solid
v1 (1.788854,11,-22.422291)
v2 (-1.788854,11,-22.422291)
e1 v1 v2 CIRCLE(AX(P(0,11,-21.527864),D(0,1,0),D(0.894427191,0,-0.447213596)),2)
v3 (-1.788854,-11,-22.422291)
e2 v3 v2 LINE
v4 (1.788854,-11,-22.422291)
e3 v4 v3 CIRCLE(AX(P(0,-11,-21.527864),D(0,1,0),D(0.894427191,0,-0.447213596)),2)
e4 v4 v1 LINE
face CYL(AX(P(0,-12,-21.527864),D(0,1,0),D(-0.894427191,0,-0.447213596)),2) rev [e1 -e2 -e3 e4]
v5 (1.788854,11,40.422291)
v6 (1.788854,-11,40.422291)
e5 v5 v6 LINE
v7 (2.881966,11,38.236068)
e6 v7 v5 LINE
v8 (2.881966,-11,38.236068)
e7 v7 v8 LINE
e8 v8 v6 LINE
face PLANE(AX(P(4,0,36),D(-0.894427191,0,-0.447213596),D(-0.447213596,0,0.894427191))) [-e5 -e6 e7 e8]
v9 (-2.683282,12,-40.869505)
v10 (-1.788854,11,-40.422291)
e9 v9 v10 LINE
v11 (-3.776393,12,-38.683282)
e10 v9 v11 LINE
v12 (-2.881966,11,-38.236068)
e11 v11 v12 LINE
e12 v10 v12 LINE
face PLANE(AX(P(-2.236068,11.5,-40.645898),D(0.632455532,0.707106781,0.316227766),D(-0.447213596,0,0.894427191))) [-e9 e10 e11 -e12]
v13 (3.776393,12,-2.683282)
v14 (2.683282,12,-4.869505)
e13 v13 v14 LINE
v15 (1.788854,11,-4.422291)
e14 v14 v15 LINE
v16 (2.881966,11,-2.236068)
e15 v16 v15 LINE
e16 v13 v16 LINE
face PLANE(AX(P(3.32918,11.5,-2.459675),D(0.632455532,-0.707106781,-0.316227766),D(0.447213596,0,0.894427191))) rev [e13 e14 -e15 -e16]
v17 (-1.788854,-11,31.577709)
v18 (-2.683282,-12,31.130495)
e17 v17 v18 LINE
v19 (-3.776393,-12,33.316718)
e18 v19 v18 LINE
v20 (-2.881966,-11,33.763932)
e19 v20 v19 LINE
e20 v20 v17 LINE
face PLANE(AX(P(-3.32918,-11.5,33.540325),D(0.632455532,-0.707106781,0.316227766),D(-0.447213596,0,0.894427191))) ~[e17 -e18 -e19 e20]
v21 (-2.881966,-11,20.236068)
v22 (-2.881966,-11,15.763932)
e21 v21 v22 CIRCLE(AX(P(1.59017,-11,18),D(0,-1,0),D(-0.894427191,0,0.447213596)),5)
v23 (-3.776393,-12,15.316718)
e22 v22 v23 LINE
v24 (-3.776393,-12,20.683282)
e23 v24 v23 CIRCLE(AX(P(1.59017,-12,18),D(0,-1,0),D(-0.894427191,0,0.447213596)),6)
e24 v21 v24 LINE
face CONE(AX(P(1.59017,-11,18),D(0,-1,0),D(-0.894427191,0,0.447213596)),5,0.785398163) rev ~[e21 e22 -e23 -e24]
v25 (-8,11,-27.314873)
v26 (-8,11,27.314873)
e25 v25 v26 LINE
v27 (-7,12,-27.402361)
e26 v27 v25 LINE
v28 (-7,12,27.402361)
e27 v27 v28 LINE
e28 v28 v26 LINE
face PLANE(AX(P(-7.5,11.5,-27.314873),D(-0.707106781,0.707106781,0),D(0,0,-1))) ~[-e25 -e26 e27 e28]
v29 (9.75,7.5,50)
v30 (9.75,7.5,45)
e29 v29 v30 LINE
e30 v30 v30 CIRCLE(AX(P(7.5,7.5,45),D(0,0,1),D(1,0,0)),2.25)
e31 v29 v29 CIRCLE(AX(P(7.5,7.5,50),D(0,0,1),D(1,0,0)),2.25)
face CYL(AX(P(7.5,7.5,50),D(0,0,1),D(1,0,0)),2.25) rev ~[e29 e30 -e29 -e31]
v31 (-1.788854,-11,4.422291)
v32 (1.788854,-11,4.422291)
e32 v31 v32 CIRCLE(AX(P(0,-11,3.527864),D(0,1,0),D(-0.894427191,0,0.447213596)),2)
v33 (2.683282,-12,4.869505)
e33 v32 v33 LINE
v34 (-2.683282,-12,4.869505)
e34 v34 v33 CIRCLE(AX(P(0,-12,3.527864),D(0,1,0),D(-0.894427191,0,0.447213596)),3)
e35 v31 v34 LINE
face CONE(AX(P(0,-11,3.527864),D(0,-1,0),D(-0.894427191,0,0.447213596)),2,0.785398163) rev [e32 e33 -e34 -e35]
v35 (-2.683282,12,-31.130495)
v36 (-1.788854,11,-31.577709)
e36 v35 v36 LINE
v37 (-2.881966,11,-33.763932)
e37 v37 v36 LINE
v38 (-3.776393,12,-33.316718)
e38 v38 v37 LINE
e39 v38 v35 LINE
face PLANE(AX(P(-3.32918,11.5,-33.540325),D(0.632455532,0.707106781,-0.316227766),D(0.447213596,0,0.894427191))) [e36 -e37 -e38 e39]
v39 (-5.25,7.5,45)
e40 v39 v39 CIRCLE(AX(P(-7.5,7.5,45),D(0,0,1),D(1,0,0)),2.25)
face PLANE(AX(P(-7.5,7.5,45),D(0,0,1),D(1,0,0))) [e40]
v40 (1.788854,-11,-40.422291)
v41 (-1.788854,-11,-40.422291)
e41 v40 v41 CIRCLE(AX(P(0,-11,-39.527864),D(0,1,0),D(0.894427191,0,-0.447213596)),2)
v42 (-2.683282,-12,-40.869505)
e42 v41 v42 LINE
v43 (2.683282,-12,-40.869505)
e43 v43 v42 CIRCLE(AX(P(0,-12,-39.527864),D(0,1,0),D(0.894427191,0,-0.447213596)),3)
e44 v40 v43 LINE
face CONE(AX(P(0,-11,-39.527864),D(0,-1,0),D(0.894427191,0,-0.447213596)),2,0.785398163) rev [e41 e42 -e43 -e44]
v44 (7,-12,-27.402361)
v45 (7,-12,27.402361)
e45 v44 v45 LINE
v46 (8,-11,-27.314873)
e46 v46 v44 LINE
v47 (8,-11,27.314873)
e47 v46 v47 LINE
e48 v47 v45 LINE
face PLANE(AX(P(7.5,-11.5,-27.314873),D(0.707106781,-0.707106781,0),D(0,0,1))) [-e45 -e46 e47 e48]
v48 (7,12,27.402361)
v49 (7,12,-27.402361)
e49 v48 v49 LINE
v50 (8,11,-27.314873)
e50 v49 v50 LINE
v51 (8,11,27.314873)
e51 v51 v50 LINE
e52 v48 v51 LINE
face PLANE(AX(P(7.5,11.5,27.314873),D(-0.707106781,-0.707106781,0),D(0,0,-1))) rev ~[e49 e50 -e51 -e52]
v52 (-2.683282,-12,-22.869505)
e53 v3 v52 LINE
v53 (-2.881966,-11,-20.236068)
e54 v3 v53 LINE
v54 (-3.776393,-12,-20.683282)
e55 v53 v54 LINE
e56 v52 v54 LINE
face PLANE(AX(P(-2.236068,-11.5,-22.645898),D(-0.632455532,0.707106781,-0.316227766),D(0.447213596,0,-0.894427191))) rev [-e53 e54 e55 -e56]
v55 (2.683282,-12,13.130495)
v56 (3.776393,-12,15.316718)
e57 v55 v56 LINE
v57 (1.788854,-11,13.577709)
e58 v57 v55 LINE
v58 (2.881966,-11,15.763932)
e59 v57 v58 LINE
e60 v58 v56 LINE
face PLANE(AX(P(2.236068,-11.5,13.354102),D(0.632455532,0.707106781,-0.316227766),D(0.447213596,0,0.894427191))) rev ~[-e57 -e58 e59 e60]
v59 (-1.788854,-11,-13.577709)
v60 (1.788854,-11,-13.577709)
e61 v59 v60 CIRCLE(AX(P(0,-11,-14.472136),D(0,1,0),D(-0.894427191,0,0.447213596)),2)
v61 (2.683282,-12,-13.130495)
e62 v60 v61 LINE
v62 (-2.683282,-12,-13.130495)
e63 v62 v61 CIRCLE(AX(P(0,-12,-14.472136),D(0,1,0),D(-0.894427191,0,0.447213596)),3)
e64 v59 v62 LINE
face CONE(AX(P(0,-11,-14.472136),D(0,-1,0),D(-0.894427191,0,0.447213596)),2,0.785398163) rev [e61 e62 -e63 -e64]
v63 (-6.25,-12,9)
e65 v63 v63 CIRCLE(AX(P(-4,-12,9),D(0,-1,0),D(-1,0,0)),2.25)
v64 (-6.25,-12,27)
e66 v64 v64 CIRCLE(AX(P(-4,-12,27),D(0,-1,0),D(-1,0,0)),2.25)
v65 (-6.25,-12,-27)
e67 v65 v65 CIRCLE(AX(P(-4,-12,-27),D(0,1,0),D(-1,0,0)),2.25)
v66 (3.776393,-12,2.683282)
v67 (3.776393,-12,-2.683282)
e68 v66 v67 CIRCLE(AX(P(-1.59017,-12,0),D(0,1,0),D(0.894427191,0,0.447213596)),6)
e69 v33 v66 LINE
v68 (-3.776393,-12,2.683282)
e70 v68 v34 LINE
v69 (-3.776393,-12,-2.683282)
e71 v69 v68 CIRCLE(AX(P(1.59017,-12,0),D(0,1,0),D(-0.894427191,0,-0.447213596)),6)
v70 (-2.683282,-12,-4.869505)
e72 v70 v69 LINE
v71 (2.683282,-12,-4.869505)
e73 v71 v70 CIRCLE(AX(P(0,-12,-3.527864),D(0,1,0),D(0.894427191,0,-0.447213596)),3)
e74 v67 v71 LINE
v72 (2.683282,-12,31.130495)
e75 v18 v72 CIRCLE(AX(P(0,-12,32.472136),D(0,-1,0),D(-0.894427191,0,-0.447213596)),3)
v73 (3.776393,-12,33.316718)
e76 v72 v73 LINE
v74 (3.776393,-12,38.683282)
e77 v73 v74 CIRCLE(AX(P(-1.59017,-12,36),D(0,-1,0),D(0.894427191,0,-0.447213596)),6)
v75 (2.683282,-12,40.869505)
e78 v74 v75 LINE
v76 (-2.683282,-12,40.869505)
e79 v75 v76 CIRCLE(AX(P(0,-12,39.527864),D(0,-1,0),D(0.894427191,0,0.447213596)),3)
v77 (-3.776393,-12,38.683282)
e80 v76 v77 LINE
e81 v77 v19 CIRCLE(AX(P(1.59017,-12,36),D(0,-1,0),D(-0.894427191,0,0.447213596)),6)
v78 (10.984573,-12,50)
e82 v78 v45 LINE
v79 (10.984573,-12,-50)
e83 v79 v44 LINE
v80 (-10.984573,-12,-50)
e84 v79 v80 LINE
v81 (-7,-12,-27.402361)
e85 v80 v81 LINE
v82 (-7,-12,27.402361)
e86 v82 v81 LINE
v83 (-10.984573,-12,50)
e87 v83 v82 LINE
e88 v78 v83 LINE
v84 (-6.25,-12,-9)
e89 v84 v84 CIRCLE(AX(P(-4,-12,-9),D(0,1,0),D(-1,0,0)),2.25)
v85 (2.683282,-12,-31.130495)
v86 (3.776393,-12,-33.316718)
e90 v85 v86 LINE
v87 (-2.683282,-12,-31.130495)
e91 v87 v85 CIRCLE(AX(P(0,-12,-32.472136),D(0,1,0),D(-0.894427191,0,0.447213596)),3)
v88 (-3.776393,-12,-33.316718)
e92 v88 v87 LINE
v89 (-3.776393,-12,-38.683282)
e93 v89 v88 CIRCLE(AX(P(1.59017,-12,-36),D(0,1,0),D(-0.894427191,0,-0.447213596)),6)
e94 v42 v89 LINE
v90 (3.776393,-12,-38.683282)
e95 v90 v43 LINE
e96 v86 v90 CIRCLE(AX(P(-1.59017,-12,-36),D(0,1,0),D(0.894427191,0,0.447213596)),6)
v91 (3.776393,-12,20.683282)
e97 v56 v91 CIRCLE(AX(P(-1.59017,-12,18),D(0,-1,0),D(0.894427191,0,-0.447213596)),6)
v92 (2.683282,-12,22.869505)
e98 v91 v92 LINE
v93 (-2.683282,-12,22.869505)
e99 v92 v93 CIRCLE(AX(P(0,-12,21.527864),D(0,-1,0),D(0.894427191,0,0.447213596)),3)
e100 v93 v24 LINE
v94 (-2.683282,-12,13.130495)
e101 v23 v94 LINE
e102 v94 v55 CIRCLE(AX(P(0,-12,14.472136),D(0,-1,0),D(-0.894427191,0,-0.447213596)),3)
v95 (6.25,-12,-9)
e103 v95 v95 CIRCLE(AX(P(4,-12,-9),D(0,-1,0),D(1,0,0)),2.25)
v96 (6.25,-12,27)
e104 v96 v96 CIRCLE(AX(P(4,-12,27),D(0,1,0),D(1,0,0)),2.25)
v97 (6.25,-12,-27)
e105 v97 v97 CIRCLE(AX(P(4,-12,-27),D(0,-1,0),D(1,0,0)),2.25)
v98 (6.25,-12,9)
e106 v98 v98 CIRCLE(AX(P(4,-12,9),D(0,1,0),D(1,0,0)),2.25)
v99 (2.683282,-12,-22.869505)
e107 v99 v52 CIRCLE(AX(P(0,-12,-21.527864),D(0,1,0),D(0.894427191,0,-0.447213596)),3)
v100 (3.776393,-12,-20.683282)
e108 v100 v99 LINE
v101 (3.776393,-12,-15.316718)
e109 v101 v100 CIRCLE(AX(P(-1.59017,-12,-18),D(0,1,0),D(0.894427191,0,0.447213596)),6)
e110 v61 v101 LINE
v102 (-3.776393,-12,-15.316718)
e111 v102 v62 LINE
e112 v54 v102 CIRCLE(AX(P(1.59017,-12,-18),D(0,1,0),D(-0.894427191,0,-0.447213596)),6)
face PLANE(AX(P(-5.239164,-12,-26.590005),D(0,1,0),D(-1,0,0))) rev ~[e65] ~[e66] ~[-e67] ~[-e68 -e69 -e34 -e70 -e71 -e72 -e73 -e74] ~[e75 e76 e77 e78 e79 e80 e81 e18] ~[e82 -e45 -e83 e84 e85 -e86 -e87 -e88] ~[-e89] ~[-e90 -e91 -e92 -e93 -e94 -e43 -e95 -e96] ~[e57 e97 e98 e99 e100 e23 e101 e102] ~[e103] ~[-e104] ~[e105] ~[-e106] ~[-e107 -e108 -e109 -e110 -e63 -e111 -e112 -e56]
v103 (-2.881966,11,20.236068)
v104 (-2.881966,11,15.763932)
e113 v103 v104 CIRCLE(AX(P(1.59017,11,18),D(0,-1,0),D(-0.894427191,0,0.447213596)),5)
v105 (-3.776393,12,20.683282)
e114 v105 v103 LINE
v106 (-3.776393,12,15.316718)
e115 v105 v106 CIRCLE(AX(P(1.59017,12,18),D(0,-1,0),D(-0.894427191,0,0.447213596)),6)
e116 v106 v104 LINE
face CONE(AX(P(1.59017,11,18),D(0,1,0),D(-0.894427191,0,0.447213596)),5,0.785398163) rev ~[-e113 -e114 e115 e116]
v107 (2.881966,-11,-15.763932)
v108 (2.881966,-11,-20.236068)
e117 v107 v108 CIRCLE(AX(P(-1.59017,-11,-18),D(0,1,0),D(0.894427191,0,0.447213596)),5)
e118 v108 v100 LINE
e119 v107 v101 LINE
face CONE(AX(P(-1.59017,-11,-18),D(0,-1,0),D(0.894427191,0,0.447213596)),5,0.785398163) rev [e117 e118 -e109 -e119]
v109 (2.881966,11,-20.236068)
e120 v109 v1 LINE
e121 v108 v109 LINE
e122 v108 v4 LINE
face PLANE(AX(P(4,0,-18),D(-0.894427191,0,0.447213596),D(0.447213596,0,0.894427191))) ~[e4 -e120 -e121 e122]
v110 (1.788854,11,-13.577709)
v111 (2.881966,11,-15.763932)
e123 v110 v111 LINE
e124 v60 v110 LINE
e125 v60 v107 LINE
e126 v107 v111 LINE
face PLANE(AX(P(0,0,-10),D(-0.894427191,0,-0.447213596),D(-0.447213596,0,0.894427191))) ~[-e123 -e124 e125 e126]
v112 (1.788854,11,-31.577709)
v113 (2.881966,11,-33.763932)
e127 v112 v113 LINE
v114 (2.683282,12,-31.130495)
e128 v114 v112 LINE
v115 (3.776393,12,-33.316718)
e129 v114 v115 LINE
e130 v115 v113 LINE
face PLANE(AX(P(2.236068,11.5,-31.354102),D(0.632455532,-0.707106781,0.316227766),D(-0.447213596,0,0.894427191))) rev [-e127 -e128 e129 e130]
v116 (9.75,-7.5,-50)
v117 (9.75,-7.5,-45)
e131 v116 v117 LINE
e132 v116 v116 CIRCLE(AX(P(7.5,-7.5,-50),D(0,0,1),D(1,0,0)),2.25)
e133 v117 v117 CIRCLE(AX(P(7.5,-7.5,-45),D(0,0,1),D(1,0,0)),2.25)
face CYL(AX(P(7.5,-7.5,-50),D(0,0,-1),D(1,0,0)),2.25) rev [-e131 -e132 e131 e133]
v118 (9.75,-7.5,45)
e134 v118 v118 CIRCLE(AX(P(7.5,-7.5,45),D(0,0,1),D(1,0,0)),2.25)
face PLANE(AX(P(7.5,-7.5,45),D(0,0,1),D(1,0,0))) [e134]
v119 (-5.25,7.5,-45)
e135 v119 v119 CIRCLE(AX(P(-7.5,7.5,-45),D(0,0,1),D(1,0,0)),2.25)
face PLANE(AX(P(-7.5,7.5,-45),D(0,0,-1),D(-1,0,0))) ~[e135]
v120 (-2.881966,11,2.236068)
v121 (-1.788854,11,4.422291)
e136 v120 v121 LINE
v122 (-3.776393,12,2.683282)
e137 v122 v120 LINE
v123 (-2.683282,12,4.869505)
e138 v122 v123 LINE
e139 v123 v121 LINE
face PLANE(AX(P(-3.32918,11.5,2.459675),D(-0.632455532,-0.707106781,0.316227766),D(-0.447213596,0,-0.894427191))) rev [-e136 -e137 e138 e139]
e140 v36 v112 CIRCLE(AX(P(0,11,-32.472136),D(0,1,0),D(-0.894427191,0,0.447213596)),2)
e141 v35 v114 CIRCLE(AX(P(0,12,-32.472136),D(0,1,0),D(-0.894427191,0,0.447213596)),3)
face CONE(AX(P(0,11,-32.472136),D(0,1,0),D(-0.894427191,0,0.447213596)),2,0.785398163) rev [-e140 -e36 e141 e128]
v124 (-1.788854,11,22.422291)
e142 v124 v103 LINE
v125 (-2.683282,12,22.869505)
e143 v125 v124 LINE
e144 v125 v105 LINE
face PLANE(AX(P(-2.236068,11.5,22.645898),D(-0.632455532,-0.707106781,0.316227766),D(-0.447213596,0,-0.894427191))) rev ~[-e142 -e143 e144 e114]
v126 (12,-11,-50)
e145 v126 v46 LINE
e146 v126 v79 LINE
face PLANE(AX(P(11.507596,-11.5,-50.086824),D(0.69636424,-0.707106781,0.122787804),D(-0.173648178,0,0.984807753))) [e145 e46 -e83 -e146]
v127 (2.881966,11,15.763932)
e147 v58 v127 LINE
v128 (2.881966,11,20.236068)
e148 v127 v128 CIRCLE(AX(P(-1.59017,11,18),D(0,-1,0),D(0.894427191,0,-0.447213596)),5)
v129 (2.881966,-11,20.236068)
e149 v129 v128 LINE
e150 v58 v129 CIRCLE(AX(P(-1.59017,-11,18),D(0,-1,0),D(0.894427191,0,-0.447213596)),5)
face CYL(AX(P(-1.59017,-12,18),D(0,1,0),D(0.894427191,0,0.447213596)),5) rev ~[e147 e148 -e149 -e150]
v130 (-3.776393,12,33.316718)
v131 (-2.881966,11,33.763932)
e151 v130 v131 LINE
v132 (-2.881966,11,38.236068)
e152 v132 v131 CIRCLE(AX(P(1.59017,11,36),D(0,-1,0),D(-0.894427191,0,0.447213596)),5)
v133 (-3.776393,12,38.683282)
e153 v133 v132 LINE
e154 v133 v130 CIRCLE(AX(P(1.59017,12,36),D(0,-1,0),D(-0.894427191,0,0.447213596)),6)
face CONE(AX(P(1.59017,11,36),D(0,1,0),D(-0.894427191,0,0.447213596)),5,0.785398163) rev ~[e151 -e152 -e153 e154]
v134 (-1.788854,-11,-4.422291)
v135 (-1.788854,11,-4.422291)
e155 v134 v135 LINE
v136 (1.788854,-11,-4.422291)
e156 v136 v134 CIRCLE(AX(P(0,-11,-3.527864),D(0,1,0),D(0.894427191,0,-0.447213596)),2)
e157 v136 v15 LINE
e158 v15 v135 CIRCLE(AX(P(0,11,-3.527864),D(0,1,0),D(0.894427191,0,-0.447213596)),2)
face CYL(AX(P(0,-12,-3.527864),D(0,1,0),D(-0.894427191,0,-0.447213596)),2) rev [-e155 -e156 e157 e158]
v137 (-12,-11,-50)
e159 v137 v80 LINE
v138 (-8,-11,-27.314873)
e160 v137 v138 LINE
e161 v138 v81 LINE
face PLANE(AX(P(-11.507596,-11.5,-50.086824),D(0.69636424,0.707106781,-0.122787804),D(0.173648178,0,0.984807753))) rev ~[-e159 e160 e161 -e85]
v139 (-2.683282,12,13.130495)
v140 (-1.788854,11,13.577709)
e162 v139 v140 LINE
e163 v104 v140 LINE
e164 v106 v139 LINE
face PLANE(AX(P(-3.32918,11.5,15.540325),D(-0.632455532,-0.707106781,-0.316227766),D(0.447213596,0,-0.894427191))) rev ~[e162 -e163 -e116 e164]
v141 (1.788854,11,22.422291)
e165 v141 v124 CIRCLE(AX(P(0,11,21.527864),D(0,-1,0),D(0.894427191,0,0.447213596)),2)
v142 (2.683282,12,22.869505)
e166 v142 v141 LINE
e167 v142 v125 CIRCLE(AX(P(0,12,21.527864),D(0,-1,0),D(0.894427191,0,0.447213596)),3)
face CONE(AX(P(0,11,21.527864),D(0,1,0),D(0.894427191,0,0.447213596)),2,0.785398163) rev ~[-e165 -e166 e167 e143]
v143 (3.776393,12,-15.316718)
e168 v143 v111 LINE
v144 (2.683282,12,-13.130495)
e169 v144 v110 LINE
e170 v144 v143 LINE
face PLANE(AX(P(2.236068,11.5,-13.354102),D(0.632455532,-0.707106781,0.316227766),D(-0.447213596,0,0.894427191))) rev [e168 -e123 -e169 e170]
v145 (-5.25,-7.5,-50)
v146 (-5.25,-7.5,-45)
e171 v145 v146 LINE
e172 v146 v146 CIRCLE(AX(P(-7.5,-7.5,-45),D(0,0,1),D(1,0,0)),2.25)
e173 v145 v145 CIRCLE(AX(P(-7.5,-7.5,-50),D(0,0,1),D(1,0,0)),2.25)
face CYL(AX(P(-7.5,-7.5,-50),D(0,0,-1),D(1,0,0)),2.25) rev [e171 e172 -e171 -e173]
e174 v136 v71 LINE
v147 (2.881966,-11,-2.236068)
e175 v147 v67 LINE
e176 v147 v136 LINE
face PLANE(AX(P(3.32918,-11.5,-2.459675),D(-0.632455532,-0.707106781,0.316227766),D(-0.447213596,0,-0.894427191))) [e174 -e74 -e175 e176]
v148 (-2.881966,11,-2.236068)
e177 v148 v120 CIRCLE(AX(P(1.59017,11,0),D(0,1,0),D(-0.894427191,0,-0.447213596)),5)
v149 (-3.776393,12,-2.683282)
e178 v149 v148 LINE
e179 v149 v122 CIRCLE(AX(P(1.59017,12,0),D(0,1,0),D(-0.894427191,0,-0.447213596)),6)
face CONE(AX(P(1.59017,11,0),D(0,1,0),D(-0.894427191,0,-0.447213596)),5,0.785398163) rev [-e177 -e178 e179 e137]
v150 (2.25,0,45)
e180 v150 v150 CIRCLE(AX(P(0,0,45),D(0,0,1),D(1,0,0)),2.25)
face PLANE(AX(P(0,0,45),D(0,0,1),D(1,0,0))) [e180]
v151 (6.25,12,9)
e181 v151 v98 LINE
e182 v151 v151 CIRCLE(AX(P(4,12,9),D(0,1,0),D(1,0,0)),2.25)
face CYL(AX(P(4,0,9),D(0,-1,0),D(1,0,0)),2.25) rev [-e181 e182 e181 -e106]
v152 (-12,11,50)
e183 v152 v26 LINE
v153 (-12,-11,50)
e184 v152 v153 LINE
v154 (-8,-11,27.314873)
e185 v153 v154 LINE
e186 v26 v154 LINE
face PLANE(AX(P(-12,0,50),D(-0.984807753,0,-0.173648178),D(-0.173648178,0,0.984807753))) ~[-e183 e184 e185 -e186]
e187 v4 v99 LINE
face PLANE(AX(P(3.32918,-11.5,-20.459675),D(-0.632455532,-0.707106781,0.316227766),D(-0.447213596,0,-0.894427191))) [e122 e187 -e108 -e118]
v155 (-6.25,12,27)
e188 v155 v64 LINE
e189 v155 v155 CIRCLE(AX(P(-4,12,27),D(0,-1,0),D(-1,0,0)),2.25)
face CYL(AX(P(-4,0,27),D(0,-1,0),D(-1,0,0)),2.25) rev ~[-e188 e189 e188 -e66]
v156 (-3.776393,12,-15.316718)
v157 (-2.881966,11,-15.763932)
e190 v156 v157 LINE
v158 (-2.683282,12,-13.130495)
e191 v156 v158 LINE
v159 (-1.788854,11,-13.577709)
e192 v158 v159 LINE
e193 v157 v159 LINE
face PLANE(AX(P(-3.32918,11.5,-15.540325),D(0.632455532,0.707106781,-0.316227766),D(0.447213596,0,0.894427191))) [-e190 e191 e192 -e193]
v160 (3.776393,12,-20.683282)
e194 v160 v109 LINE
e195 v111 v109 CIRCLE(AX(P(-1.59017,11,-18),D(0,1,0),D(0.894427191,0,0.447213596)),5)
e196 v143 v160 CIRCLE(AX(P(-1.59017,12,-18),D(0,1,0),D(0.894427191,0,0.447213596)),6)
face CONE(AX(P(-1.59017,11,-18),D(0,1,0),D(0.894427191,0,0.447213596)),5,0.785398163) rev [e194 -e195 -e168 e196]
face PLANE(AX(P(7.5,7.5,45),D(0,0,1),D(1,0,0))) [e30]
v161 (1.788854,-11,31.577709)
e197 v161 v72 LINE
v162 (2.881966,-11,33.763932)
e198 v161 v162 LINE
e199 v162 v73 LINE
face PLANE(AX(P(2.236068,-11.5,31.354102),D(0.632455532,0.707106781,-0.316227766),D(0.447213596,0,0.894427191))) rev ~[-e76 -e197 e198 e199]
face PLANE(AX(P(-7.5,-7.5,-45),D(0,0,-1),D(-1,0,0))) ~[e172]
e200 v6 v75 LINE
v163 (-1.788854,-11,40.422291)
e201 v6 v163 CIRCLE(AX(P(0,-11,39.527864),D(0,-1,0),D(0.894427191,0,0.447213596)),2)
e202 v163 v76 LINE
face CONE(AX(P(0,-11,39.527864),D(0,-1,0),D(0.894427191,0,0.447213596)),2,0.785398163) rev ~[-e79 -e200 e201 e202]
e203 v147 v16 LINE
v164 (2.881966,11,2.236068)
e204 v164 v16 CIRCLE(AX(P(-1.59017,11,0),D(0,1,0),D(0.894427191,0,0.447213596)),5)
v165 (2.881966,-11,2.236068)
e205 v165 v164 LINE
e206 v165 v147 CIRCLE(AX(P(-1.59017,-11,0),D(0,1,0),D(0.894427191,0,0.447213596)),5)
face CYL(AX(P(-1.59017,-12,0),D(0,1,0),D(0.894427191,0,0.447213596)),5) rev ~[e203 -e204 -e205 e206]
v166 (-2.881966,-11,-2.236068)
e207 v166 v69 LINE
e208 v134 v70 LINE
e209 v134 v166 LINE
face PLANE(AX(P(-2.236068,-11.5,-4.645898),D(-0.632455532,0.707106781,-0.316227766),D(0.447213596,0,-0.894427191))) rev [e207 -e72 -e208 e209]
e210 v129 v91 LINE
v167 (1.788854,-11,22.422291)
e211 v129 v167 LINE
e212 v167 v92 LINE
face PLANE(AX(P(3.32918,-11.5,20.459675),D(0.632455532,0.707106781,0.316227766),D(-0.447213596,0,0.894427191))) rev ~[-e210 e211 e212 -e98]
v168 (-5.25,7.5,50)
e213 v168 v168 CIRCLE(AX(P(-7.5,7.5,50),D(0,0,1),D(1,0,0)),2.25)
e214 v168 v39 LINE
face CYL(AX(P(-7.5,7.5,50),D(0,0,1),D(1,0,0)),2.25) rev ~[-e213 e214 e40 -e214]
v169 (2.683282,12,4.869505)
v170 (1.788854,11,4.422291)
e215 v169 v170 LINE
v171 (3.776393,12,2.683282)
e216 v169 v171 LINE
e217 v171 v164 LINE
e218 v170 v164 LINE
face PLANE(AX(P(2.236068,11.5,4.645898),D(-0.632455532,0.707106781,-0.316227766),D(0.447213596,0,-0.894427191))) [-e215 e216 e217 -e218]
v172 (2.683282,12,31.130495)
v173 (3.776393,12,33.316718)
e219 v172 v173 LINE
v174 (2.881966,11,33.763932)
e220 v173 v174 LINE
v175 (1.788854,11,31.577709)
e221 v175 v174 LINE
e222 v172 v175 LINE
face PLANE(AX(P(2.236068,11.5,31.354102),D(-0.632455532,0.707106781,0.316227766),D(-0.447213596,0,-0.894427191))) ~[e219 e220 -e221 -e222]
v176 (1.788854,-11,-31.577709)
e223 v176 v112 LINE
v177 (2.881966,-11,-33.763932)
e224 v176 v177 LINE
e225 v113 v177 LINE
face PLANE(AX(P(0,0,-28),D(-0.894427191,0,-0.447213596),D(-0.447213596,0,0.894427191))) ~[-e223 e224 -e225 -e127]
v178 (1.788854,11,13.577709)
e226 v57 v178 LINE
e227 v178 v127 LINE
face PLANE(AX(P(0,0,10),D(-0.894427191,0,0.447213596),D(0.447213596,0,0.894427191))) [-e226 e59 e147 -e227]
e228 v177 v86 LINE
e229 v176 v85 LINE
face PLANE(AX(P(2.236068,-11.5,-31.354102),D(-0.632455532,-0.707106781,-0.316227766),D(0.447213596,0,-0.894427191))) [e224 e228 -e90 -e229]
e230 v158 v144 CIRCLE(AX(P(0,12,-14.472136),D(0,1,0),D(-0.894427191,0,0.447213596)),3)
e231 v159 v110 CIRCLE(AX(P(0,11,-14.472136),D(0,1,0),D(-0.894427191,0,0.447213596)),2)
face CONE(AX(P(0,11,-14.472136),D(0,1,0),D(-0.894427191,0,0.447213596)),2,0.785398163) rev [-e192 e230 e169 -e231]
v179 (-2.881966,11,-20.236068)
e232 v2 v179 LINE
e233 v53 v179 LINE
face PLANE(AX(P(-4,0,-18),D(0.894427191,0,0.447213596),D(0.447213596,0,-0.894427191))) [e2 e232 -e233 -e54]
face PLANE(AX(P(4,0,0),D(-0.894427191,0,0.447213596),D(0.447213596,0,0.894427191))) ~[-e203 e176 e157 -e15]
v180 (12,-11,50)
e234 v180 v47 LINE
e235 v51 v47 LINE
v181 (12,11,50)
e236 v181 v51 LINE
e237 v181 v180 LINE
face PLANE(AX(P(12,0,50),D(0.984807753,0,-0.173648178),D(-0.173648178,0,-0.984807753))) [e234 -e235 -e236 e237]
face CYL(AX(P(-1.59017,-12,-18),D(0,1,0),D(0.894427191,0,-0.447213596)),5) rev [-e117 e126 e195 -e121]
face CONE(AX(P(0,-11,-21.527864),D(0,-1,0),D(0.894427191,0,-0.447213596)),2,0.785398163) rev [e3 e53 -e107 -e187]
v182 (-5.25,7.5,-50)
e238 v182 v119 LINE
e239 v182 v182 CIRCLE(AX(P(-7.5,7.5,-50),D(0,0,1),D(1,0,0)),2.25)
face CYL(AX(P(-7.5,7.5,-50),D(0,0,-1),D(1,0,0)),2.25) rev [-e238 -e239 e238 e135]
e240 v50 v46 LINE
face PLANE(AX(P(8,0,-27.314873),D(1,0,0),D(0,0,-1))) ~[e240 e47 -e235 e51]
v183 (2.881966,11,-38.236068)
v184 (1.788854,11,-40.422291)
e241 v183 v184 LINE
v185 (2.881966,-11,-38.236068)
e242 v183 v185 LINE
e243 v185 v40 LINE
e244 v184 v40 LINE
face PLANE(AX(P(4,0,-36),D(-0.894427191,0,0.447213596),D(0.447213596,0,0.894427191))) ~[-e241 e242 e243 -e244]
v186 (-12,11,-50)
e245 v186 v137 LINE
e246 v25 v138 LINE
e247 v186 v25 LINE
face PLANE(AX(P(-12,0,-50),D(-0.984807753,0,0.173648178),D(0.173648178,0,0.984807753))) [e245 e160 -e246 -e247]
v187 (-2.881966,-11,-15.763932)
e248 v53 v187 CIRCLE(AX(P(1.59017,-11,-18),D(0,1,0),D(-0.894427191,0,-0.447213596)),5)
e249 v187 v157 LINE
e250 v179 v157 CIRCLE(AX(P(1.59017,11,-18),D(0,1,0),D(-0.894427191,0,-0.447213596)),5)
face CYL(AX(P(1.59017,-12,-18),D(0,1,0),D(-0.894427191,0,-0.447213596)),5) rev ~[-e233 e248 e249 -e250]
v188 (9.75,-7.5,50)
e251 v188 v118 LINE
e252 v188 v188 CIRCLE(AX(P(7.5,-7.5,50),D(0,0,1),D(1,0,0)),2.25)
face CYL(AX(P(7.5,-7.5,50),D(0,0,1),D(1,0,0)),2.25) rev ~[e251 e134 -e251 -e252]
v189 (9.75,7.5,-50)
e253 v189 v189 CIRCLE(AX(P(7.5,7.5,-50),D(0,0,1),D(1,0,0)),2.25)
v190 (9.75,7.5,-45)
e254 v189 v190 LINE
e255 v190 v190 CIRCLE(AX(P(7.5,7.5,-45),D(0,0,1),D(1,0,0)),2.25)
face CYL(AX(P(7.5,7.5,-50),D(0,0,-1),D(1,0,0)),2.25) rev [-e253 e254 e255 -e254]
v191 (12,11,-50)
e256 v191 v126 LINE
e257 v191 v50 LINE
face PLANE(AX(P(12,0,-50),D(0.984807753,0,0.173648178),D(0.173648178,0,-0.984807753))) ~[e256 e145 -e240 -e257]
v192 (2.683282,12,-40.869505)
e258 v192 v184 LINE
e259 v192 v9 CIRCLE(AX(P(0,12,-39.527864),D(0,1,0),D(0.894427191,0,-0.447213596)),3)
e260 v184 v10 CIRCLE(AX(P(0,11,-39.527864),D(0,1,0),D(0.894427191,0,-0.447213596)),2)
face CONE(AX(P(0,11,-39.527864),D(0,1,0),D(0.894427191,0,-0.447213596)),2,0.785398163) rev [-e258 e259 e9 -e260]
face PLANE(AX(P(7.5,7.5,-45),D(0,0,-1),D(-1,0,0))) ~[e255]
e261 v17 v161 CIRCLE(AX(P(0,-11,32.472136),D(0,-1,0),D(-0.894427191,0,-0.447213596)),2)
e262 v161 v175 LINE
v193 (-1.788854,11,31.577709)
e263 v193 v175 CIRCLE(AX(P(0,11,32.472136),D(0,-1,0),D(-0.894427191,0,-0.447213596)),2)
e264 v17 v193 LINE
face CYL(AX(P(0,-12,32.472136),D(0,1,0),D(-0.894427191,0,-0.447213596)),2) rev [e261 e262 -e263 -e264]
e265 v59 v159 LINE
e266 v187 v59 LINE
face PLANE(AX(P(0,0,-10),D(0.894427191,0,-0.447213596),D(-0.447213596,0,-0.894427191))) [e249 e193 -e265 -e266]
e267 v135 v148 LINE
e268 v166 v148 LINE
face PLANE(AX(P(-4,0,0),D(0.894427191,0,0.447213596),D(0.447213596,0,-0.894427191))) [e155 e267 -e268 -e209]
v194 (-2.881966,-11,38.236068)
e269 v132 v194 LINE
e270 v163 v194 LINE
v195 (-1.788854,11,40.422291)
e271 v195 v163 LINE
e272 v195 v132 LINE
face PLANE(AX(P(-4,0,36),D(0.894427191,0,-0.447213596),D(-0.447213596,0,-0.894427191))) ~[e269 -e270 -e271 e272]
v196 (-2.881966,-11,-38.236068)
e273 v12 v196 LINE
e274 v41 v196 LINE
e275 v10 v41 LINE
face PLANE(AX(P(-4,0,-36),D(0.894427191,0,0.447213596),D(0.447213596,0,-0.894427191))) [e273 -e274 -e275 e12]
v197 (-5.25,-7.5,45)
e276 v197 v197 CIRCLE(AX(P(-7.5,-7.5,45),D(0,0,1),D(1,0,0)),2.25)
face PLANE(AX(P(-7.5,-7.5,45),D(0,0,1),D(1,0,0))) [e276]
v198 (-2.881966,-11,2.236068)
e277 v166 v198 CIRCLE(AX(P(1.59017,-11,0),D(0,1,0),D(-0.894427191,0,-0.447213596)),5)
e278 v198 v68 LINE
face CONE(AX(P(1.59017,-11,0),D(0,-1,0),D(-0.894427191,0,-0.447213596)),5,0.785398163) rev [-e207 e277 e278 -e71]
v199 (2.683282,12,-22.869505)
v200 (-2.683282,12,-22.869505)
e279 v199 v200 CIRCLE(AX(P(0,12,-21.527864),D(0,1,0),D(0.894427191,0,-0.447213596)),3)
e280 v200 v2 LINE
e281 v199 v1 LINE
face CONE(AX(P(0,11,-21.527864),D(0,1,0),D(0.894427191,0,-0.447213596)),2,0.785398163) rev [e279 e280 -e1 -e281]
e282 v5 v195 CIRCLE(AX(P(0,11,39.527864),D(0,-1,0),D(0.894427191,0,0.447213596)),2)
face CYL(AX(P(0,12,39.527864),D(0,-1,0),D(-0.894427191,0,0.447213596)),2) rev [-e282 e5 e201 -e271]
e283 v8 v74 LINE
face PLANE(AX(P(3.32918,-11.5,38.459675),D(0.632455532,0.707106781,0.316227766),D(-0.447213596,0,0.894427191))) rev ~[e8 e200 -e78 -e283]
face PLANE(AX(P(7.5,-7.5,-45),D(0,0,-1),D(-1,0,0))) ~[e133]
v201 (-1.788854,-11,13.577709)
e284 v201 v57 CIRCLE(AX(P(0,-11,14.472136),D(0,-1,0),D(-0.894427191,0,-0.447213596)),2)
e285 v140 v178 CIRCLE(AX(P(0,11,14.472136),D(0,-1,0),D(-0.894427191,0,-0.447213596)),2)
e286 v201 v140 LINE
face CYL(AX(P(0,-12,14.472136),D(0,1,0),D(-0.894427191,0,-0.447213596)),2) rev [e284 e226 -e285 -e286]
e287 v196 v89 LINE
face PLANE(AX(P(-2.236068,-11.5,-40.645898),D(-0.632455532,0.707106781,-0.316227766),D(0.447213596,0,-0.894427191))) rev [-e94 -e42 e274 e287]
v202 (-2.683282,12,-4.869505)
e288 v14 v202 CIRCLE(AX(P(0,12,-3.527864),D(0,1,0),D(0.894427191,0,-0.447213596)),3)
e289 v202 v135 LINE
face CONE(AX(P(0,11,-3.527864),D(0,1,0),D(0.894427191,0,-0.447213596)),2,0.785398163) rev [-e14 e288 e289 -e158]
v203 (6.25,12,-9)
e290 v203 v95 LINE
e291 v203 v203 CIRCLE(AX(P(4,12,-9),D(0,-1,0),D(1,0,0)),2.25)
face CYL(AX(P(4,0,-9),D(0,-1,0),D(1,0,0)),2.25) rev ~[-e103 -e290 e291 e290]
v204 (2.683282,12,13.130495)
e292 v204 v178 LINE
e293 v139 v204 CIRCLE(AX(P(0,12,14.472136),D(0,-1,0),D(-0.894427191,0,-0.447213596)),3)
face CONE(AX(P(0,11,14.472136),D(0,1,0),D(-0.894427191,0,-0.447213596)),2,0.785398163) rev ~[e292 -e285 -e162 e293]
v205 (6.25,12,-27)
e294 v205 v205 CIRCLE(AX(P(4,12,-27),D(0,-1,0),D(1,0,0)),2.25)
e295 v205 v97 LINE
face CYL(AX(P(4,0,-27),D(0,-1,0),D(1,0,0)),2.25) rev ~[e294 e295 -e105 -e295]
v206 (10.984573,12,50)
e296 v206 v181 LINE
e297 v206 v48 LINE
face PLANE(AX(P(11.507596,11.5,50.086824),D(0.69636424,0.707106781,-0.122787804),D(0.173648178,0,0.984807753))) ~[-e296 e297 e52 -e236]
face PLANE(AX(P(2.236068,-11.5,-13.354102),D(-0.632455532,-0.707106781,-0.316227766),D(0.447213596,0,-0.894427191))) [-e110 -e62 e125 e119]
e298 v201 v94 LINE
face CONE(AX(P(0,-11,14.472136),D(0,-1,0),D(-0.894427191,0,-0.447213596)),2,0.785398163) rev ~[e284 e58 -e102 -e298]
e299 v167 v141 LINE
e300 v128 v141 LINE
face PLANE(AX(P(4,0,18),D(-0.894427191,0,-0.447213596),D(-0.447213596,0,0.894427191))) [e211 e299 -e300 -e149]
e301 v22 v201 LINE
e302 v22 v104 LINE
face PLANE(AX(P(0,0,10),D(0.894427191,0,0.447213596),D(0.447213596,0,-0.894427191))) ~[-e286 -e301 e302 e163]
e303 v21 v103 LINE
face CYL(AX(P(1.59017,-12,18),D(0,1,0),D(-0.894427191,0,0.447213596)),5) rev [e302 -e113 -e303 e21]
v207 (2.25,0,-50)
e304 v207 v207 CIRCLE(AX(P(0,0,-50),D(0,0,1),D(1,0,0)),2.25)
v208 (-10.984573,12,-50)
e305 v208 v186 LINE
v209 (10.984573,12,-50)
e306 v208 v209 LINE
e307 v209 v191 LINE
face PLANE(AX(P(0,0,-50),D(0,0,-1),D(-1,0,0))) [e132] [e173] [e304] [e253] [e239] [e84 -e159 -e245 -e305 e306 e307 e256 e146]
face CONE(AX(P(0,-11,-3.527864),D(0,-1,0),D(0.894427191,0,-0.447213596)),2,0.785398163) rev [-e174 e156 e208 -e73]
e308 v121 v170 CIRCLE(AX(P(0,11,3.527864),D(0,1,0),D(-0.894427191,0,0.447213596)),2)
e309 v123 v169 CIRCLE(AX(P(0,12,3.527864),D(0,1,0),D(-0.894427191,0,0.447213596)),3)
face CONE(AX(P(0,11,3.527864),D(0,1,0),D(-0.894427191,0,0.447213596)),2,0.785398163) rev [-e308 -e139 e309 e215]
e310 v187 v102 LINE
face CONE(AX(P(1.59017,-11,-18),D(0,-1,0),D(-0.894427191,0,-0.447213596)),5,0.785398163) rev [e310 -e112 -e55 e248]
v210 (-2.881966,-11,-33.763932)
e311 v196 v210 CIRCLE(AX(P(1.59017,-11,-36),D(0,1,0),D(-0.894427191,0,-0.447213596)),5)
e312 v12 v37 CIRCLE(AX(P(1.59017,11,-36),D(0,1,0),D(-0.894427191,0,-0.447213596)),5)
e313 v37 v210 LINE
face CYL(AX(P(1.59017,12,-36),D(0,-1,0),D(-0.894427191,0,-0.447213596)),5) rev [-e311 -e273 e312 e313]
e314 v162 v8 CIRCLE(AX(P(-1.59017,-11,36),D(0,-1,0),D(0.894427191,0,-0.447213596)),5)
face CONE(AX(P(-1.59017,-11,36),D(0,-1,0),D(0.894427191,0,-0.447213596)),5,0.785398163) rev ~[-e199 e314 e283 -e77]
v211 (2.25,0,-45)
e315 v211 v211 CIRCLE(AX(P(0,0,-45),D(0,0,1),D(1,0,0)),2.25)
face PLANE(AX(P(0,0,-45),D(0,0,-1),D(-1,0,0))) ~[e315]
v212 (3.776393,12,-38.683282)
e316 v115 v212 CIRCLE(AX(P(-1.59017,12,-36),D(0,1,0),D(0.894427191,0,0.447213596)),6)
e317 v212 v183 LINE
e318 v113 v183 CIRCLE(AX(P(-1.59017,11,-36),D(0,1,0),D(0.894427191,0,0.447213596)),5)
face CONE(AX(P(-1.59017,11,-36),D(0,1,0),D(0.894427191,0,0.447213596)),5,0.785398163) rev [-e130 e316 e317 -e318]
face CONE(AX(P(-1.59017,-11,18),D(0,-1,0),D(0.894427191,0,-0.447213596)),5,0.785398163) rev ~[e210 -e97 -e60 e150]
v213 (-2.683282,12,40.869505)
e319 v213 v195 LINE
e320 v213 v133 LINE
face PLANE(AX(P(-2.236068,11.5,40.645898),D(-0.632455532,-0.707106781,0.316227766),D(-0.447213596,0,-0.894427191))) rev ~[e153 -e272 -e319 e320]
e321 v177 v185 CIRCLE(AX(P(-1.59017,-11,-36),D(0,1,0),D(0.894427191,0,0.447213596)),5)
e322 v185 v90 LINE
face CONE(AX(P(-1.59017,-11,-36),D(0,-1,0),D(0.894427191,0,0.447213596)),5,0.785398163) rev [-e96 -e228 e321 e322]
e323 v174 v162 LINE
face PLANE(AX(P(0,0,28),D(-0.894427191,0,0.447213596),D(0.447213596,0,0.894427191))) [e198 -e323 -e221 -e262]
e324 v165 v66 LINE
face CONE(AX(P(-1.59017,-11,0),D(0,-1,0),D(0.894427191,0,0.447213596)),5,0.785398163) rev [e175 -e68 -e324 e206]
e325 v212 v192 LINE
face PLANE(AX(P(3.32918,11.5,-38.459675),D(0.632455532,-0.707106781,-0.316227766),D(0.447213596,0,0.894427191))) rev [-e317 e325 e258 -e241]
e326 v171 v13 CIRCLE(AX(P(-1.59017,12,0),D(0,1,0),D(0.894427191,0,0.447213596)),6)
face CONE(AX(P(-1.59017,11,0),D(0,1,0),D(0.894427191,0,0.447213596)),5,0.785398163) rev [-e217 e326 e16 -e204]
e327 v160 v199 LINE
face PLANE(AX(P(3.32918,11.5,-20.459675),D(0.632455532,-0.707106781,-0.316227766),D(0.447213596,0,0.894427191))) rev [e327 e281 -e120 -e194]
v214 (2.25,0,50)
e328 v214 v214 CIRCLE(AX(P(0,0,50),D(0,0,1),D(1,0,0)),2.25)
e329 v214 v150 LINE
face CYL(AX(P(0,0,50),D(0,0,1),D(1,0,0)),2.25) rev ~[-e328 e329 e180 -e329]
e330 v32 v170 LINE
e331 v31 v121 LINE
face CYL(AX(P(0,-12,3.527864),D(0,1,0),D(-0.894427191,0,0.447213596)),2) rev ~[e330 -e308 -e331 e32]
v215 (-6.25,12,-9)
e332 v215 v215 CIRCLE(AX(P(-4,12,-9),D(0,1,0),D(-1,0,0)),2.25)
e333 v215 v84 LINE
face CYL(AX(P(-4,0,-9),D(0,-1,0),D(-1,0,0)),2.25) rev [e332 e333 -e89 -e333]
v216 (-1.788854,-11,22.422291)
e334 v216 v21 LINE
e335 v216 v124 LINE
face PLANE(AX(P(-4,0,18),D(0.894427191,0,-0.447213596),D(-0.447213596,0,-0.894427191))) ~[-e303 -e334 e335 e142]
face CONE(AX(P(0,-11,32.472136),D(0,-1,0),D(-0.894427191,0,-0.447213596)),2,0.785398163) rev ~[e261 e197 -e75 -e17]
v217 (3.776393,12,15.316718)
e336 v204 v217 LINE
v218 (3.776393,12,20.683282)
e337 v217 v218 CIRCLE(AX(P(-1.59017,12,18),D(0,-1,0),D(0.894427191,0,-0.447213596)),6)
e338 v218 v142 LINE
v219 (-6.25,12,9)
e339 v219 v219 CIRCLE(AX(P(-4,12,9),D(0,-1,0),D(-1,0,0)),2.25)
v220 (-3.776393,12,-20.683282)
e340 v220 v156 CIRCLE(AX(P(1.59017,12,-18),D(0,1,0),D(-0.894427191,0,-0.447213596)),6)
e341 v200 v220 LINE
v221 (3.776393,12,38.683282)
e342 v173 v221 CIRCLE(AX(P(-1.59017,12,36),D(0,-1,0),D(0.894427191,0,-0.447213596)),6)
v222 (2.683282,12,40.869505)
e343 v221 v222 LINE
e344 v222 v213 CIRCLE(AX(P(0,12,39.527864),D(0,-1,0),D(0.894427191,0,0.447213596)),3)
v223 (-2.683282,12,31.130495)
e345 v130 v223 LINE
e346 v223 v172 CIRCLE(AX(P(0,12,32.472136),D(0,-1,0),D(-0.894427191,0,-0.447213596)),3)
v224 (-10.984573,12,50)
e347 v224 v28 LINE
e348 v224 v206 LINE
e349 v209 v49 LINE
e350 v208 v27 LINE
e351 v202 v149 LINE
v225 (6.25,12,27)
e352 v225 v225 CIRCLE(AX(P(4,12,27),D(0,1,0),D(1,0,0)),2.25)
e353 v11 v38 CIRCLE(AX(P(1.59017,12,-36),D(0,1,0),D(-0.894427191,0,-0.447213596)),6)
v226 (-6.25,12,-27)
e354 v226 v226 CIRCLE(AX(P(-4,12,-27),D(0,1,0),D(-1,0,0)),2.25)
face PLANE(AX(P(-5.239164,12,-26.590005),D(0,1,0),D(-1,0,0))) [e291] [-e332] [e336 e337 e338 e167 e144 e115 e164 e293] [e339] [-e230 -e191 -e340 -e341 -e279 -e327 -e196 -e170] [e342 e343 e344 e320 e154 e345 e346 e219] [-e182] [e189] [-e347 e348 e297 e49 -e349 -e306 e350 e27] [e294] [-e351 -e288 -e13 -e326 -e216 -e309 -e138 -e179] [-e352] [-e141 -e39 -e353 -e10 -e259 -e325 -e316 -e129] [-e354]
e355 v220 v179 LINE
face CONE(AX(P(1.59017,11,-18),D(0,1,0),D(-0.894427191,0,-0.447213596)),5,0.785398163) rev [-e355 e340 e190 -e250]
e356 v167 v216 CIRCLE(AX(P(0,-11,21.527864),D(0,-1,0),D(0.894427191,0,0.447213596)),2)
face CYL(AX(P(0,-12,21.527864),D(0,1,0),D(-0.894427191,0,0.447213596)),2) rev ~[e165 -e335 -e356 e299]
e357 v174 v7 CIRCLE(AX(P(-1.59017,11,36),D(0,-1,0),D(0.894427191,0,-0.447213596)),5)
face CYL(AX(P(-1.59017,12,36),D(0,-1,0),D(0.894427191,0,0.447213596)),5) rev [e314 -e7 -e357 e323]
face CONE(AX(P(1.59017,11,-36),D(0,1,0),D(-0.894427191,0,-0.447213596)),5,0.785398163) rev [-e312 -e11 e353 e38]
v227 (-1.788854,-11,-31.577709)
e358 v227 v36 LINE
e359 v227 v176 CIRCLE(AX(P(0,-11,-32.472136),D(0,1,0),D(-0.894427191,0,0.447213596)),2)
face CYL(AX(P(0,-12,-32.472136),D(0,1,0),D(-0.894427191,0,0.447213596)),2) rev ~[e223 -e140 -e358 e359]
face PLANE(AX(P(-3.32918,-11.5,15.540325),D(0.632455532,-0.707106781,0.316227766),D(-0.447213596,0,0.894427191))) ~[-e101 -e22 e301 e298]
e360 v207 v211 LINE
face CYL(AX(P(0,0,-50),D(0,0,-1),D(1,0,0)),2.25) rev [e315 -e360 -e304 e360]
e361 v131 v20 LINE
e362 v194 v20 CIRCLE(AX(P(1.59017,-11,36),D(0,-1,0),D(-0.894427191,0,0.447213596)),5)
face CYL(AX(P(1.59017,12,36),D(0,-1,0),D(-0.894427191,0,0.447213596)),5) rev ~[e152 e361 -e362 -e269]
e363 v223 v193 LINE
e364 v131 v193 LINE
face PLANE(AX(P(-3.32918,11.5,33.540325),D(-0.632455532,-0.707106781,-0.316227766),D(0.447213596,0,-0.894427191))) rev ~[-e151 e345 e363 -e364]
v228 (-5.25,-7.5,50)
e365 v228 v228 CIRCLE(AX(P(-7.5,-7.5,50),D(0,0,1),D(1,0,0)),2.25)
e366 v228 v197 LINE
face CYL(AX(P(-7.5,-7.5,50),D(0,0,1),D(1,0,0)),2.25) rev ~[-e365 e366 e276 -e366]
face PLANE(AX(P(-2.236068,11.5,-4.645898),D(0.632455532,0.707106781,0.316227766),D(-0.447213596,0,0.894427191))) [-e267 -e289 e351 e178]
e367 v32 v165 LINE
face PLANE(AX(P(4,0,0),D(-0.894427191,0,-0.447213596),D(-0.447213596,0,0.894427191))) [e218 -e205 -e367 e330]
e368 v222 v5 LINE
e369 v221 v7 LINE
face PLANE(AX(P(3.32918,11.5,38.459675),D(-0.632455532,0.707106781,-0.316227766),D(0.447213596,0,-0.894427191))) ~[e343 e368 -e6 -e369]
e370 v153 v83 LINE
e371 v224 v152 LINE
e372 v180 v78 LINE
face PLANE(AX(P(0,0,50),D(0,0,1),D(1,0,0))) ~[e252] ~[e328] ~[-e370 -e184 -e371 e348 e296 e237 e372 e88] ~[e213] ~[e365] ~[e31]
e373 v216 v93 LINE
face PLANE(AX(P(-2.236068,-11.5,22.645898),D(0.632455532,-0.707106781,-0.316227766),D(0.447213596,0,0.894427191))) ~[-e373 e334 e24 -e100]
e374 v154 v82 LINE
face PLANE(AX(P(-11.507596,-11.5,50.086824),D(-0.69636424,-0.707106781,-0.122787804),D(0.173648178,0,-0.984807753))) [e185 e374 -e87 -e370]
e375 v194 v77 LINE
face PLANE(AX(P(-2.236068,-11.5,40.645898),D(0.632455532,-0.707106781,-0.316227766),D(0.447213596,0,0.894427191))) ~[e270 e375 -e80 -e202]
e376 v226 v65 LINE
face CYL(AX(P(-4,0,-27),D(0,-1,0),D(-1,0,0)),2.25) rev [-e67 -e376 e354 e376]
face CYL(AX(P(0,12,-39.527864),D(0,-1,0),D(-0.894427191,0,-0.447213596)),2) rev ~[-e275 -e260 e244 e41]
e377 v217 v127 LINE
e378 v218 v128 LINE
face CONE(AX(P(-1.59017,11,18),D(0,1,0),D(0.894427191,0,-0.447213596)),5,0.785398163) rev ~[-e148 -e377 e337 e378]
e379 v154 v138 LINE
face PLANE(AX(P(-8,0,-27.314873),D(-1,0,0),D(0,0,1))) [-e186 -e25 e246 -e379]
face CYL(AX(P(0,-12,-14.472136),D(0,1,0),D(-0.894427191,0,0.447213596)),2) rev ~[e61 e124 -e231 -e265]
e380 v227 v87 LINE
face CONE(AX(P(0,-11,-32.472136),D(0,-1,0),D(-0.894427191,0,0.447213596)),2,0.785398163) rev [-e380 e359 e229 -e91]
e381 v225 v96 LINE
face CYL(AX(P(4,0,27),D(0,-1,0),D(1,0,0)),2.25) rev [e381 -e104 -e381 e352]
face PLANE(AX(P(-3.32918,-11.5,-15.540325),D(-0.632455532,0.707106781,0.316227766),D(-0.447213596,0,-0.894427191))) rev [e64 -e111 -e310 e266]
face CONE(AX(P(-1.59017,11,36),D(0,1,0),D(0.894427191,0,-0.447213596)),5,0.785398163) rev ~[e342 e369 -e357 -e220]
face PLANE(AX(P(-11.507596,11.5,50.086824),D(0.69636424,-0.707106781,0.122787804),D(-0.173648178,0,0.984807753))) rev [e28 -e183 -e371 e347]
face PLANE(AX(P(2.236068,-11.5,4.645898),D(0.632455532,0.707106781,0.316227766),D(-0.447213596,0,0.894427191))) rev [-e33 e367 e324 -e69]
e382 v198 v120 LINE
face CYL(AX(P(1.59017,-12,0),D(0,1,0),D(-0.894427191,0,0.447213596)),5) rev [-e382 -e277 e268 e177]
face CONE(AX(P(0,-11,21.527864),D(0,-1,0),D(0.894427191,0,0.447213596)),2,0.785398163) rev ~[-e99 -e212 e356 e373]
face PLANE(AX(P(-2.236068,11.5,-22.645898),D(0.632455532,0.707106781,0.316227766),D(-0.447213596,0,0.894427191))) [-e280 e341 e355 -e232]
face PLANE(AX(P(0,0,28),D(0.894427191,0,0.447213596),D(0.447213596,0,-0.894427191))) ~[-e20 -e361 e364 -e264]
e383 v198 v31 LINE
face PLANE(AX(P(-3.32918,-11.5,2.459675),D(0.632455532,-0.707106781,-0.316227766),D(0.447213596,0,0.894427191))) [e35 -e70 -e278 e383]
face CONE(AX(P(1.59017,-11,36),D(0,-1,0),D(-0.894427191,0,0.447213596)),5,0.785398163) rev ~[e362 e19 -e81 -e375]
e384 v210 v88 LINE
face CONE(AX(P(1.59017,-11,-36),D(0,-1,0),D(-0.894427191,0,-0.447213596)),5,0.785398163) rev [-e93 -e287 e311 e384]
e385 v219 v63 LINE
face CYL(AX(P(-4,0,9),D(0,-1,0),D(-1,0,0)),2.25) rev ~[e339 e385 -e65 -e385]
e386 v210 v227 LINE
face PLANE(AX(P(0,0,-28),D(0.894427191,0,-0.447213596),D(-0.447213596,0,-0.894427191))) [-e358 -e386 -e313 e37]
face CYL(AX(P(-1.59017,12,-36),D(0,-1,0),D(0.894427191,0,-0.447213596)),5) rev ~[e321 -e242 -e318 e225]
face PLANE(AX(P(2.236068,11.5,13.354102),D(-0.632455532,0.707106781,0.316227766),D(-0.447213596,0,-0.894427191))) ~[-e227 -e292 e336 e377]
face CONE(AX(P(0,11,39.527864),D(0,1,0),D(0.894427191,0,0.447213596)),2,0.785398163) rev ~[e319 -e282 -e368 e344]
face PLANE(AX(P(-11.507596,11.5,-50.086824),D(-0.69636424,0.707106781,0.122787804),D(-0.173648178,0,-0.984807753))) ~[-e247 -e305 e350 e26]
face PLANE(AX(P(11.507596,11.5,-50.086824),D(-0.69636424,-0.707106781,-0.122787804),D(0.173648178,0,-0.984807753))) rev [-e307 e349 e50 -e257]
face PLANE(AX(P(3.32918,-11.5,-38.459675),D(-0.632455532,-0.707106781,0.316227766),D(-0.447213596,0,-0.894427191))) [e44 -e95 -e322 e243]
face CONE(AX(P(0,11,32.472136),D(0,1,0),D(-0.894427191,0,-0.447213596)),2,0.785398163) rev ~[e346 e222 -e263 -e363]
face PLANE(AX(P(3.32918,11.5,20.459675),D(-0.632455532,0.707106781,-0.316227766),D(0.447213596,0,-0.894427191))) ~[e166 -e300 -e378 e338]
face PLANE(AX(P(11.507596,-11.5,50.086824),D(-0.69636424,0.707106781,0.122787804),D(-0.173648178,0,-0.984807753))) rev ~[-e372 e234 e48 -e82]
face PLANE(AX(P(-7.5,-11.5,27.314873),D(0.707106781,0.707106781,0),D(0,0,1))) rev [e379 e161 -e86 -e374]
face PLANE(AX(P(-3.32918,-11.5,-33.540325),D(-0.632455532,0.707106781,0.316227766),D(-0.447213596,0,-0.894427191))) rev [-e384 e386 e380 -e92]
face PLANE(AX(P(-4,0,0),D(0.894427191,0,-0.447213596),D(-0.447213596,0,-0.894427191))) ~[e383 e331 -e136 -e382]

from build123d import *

# Parameters (mm, degrees)
SKETCH1_R           = 2.25
BOSS_EXTRUDE1_DEPTH = 12
FILLET1_R           = 5
CUT_EXTRUDE1_START  = 50
SKETCH2_R           = 2.25
CUT_EXTRUDE1_DEPTH  = 5
FILLET3_R           = 2
FILLET2_R           = 5
CHAMFER1_SIZE       = 1


with BuildPart() as part:
    # Sketch1 → Boss-Extrude1 (new body, symmetric)
    with BuildSketch(Plane(origin=(0, 0, 0), x_dir=(1, 0, 0), z_dir=(0, 1, 0))):
        Polygon((8, 0), (4, 0), (0, -8), (0, -10), (4, -18), (0, -26), (0, -28), (4, -36), (0, -44), (0, -50), (12, -50), (8, -27.314872722), align=None)
        with Locations((4, -27)):
            Circle(SKETCH1_R, mode=Mode.SUBTRACT)
        with Locations((4, -9)):
            Circle(SKETCH1_R, mode=Mode.SUBTRACT)
    extrude(amount=BOSS_EXTRUDE1_DEPTH, both=True)

    # Fillet1
    fillet1_edges = [part.edges().sort_by_distance(p)[0] for p in [
        (4, 0, 18),
        (4, 0, 36),
    ]]
    fillet(fillet1_edges, radius=FILLET1_R)

    # Mirror1: part across plane


with BuildPart() as part_1:
    add(part.part)
    add(part.part.mirror(Plane(origin=(0, 0, 0), x_dir=(0, 0, 1), z_dir=(1, 0, 0))))

    # Sketch2 → Cut-Extrude1 (cut)
    with BuildSketch(Plane.XY.offset(CUT_EXTRUDE1_START)):
        with Locations((-7.5, 7.5)):
            Circle(SKETCH2_R)
        Circle(SKETCH2_R)
        with Locations((7.5, 7.5)):
            Circle(SKETCH2_R)
        with Locations((7.5, -7.5)):
            Circle(SKETCH2_R)
        with Locations((-7.5, -7.5)):
            Circle(SKETCH2_R)
    extrude(amount=-CUT_EXTRUDE1_DEPTH, mode=Mode.SUBTRACT)

    # Fillet3
    fillet3_edges = [part_1.edges().sort_by_distance(p)[0] for p in [
        (0, 0, 44),
        (0, 0, 8),
        (0, 0, 10),
        (0, 0, 26),
        (0, 0, 28),
    ]]
    fillet(fillet3_edges, radius=FILLET3_R)

    # Mirror2: part across plane


with BuildPart() as part_2:
    add(part_1.part)
    add(part_1.part.mirror(Plane.XY))

    # Fillet2
    fillet2_edges = [part_2.edges().sort_by_distance(p)[0] for p in [
        (4, 0, 0),
        (-4, 0, 0),
    ]]
    fillet(fillet2_edges, radius=FILLET2_R)

    # Chamfer1
    chamfer1_edges = [part_2.edges().sort_by_distance(p)[0] for p in [
        (2.335410197, -12, 32.670820393),
        (2.335410197, 12, 32.670820393),
        (-2.335410197, -12, 32.670820393),
        (-2.335410197, 12, 32.670820393),
        (2.335410197, -12, 14.670820393),
        (2.335410197, 12, 14.670820393),
        (-2.335410197, -12, 14.670820393),
        (-2.335410197, 12, 14.670820393),
        (0, -12, 30.472135955),
        (0, 12, 30.472135955),
        (0, -12, 12.472135955),
        (0, 12, 12.472135955),
        (0, -12, 5.527864045),
        (0, 12, 5.527864045),
        (0, -12, 23.527864045),
        (0, 12, 23.527864045),
        (0, -12, 41.527864045),
        (0, 12, 41.527864045),
        (2.335410197, 12, -32.670820393),
        (2.335410197, 12, -39.329179607),
        (10, -12, -38.657436361),
        (2.335410197, 12, -14.670820393),
        (2.335410197, 12, -21.329179607),
        (-2.335410197, 12, -32.670820393),
        (-3.409830056, 12, -36),
        (-2.335410197, 12, -39.329179607),
        (10, 12, -38.657436361),
        (-2.335410197, 12, -14.670820393),
        (-3.409830056, 12, -18),
        (-2.335410197, 12, -21.329179607),
        (-3.409830056, -12, -36),
        (2.335410197, -12, -32.670820393),
        (2.335410197, -12, -39.329179607),
        (-10, -12, -38.657436361),
        (2.335410197, -12, -14.670820393),
        (2.335410197, -12, -21.329179607),
        (-3.409830056, -12, -18),
        (3.409830056, 12, -18),
        (3.409830056, -12, -18),
        (3.409830056, 12, -36),
        (3.409830056, -12, -36),
        (-2.335410197, -12, -32.670820393),
        (-2.335410197, -12, -39.329179607),
        (-10, 12, -38.657436361),
        (-2.335410197, -12, -14.670820393),
        (-2.335410197, -12, -21.329179607),
        (0, 12, -30.472135955),
        (0, -12, -30.472135955),
        (0, 12, -12.472135955),
        (0, -12, -12.472135955),
        (0, 12, -5.527864045),
        (0, -12, -5.527864045),
        (0, 12, -23.527864045),
        (0, -12, -23.527864045),
        (0, 12, -41.527864045),
        (0, -12, -41.527864045),
        (8, -12, 0),
        (10, -12, 38.657436361),
        (-2.335410197, 12, -3.329179607),
        (-2.335410197, -12, -3.329179607),
        (-2.335410197, 12, 3.329179607),
        (-2.335410197, -12, 3.329179607),
        (2.335410197, -12, 3.329179607),
        (2.335410197, 12, 3.329179607),
        (2.335410197, -12, -3.329179607),
        (2.335410197, 12, -3.329179607),
        (-3.409830056, -12, 0),
        (-3.409830056, 12, 0),
        (3.409830056, -12, 0),
        (3.409830056, 12, 0),
        (10, 12, 38.657436361),
        (8, 12, 0),
        (2.335410197, -12, 21.329179607),
        (2.335410197, 12, 21.329179607),
        (2.335410197, -12, 39.329179607),
        (2.335410197, 12, 39.329179607),
        (3.409830056, -12, 18),
        (3.409830056, 12, 18),
        (3.409830056, -12, 36),
        (3.409830056, 12, 36),
        (-2.335410197, 12, 39.329179607),
        (-10, -12, 38.657436361),
        (-8, -12, 0),
        (-2.335410197, 12, 21.329179607),
        (-8, 12, 0),
        (-10, 12, 38.657436361),
        (-2.335410197, -12, 39.329179607),
        (-2.335410197, -12, 21.329179607),
        (-3.409830056, 12, 18),
        (-3.409830056, -12, 18),
        (-3.409830056, 12, 36),
        (-3.409830056, -12, 36),
    ]]
    chamfer(chamfer1_edges, length=CHAMFER1_SIZE)


solid = part_2.part
